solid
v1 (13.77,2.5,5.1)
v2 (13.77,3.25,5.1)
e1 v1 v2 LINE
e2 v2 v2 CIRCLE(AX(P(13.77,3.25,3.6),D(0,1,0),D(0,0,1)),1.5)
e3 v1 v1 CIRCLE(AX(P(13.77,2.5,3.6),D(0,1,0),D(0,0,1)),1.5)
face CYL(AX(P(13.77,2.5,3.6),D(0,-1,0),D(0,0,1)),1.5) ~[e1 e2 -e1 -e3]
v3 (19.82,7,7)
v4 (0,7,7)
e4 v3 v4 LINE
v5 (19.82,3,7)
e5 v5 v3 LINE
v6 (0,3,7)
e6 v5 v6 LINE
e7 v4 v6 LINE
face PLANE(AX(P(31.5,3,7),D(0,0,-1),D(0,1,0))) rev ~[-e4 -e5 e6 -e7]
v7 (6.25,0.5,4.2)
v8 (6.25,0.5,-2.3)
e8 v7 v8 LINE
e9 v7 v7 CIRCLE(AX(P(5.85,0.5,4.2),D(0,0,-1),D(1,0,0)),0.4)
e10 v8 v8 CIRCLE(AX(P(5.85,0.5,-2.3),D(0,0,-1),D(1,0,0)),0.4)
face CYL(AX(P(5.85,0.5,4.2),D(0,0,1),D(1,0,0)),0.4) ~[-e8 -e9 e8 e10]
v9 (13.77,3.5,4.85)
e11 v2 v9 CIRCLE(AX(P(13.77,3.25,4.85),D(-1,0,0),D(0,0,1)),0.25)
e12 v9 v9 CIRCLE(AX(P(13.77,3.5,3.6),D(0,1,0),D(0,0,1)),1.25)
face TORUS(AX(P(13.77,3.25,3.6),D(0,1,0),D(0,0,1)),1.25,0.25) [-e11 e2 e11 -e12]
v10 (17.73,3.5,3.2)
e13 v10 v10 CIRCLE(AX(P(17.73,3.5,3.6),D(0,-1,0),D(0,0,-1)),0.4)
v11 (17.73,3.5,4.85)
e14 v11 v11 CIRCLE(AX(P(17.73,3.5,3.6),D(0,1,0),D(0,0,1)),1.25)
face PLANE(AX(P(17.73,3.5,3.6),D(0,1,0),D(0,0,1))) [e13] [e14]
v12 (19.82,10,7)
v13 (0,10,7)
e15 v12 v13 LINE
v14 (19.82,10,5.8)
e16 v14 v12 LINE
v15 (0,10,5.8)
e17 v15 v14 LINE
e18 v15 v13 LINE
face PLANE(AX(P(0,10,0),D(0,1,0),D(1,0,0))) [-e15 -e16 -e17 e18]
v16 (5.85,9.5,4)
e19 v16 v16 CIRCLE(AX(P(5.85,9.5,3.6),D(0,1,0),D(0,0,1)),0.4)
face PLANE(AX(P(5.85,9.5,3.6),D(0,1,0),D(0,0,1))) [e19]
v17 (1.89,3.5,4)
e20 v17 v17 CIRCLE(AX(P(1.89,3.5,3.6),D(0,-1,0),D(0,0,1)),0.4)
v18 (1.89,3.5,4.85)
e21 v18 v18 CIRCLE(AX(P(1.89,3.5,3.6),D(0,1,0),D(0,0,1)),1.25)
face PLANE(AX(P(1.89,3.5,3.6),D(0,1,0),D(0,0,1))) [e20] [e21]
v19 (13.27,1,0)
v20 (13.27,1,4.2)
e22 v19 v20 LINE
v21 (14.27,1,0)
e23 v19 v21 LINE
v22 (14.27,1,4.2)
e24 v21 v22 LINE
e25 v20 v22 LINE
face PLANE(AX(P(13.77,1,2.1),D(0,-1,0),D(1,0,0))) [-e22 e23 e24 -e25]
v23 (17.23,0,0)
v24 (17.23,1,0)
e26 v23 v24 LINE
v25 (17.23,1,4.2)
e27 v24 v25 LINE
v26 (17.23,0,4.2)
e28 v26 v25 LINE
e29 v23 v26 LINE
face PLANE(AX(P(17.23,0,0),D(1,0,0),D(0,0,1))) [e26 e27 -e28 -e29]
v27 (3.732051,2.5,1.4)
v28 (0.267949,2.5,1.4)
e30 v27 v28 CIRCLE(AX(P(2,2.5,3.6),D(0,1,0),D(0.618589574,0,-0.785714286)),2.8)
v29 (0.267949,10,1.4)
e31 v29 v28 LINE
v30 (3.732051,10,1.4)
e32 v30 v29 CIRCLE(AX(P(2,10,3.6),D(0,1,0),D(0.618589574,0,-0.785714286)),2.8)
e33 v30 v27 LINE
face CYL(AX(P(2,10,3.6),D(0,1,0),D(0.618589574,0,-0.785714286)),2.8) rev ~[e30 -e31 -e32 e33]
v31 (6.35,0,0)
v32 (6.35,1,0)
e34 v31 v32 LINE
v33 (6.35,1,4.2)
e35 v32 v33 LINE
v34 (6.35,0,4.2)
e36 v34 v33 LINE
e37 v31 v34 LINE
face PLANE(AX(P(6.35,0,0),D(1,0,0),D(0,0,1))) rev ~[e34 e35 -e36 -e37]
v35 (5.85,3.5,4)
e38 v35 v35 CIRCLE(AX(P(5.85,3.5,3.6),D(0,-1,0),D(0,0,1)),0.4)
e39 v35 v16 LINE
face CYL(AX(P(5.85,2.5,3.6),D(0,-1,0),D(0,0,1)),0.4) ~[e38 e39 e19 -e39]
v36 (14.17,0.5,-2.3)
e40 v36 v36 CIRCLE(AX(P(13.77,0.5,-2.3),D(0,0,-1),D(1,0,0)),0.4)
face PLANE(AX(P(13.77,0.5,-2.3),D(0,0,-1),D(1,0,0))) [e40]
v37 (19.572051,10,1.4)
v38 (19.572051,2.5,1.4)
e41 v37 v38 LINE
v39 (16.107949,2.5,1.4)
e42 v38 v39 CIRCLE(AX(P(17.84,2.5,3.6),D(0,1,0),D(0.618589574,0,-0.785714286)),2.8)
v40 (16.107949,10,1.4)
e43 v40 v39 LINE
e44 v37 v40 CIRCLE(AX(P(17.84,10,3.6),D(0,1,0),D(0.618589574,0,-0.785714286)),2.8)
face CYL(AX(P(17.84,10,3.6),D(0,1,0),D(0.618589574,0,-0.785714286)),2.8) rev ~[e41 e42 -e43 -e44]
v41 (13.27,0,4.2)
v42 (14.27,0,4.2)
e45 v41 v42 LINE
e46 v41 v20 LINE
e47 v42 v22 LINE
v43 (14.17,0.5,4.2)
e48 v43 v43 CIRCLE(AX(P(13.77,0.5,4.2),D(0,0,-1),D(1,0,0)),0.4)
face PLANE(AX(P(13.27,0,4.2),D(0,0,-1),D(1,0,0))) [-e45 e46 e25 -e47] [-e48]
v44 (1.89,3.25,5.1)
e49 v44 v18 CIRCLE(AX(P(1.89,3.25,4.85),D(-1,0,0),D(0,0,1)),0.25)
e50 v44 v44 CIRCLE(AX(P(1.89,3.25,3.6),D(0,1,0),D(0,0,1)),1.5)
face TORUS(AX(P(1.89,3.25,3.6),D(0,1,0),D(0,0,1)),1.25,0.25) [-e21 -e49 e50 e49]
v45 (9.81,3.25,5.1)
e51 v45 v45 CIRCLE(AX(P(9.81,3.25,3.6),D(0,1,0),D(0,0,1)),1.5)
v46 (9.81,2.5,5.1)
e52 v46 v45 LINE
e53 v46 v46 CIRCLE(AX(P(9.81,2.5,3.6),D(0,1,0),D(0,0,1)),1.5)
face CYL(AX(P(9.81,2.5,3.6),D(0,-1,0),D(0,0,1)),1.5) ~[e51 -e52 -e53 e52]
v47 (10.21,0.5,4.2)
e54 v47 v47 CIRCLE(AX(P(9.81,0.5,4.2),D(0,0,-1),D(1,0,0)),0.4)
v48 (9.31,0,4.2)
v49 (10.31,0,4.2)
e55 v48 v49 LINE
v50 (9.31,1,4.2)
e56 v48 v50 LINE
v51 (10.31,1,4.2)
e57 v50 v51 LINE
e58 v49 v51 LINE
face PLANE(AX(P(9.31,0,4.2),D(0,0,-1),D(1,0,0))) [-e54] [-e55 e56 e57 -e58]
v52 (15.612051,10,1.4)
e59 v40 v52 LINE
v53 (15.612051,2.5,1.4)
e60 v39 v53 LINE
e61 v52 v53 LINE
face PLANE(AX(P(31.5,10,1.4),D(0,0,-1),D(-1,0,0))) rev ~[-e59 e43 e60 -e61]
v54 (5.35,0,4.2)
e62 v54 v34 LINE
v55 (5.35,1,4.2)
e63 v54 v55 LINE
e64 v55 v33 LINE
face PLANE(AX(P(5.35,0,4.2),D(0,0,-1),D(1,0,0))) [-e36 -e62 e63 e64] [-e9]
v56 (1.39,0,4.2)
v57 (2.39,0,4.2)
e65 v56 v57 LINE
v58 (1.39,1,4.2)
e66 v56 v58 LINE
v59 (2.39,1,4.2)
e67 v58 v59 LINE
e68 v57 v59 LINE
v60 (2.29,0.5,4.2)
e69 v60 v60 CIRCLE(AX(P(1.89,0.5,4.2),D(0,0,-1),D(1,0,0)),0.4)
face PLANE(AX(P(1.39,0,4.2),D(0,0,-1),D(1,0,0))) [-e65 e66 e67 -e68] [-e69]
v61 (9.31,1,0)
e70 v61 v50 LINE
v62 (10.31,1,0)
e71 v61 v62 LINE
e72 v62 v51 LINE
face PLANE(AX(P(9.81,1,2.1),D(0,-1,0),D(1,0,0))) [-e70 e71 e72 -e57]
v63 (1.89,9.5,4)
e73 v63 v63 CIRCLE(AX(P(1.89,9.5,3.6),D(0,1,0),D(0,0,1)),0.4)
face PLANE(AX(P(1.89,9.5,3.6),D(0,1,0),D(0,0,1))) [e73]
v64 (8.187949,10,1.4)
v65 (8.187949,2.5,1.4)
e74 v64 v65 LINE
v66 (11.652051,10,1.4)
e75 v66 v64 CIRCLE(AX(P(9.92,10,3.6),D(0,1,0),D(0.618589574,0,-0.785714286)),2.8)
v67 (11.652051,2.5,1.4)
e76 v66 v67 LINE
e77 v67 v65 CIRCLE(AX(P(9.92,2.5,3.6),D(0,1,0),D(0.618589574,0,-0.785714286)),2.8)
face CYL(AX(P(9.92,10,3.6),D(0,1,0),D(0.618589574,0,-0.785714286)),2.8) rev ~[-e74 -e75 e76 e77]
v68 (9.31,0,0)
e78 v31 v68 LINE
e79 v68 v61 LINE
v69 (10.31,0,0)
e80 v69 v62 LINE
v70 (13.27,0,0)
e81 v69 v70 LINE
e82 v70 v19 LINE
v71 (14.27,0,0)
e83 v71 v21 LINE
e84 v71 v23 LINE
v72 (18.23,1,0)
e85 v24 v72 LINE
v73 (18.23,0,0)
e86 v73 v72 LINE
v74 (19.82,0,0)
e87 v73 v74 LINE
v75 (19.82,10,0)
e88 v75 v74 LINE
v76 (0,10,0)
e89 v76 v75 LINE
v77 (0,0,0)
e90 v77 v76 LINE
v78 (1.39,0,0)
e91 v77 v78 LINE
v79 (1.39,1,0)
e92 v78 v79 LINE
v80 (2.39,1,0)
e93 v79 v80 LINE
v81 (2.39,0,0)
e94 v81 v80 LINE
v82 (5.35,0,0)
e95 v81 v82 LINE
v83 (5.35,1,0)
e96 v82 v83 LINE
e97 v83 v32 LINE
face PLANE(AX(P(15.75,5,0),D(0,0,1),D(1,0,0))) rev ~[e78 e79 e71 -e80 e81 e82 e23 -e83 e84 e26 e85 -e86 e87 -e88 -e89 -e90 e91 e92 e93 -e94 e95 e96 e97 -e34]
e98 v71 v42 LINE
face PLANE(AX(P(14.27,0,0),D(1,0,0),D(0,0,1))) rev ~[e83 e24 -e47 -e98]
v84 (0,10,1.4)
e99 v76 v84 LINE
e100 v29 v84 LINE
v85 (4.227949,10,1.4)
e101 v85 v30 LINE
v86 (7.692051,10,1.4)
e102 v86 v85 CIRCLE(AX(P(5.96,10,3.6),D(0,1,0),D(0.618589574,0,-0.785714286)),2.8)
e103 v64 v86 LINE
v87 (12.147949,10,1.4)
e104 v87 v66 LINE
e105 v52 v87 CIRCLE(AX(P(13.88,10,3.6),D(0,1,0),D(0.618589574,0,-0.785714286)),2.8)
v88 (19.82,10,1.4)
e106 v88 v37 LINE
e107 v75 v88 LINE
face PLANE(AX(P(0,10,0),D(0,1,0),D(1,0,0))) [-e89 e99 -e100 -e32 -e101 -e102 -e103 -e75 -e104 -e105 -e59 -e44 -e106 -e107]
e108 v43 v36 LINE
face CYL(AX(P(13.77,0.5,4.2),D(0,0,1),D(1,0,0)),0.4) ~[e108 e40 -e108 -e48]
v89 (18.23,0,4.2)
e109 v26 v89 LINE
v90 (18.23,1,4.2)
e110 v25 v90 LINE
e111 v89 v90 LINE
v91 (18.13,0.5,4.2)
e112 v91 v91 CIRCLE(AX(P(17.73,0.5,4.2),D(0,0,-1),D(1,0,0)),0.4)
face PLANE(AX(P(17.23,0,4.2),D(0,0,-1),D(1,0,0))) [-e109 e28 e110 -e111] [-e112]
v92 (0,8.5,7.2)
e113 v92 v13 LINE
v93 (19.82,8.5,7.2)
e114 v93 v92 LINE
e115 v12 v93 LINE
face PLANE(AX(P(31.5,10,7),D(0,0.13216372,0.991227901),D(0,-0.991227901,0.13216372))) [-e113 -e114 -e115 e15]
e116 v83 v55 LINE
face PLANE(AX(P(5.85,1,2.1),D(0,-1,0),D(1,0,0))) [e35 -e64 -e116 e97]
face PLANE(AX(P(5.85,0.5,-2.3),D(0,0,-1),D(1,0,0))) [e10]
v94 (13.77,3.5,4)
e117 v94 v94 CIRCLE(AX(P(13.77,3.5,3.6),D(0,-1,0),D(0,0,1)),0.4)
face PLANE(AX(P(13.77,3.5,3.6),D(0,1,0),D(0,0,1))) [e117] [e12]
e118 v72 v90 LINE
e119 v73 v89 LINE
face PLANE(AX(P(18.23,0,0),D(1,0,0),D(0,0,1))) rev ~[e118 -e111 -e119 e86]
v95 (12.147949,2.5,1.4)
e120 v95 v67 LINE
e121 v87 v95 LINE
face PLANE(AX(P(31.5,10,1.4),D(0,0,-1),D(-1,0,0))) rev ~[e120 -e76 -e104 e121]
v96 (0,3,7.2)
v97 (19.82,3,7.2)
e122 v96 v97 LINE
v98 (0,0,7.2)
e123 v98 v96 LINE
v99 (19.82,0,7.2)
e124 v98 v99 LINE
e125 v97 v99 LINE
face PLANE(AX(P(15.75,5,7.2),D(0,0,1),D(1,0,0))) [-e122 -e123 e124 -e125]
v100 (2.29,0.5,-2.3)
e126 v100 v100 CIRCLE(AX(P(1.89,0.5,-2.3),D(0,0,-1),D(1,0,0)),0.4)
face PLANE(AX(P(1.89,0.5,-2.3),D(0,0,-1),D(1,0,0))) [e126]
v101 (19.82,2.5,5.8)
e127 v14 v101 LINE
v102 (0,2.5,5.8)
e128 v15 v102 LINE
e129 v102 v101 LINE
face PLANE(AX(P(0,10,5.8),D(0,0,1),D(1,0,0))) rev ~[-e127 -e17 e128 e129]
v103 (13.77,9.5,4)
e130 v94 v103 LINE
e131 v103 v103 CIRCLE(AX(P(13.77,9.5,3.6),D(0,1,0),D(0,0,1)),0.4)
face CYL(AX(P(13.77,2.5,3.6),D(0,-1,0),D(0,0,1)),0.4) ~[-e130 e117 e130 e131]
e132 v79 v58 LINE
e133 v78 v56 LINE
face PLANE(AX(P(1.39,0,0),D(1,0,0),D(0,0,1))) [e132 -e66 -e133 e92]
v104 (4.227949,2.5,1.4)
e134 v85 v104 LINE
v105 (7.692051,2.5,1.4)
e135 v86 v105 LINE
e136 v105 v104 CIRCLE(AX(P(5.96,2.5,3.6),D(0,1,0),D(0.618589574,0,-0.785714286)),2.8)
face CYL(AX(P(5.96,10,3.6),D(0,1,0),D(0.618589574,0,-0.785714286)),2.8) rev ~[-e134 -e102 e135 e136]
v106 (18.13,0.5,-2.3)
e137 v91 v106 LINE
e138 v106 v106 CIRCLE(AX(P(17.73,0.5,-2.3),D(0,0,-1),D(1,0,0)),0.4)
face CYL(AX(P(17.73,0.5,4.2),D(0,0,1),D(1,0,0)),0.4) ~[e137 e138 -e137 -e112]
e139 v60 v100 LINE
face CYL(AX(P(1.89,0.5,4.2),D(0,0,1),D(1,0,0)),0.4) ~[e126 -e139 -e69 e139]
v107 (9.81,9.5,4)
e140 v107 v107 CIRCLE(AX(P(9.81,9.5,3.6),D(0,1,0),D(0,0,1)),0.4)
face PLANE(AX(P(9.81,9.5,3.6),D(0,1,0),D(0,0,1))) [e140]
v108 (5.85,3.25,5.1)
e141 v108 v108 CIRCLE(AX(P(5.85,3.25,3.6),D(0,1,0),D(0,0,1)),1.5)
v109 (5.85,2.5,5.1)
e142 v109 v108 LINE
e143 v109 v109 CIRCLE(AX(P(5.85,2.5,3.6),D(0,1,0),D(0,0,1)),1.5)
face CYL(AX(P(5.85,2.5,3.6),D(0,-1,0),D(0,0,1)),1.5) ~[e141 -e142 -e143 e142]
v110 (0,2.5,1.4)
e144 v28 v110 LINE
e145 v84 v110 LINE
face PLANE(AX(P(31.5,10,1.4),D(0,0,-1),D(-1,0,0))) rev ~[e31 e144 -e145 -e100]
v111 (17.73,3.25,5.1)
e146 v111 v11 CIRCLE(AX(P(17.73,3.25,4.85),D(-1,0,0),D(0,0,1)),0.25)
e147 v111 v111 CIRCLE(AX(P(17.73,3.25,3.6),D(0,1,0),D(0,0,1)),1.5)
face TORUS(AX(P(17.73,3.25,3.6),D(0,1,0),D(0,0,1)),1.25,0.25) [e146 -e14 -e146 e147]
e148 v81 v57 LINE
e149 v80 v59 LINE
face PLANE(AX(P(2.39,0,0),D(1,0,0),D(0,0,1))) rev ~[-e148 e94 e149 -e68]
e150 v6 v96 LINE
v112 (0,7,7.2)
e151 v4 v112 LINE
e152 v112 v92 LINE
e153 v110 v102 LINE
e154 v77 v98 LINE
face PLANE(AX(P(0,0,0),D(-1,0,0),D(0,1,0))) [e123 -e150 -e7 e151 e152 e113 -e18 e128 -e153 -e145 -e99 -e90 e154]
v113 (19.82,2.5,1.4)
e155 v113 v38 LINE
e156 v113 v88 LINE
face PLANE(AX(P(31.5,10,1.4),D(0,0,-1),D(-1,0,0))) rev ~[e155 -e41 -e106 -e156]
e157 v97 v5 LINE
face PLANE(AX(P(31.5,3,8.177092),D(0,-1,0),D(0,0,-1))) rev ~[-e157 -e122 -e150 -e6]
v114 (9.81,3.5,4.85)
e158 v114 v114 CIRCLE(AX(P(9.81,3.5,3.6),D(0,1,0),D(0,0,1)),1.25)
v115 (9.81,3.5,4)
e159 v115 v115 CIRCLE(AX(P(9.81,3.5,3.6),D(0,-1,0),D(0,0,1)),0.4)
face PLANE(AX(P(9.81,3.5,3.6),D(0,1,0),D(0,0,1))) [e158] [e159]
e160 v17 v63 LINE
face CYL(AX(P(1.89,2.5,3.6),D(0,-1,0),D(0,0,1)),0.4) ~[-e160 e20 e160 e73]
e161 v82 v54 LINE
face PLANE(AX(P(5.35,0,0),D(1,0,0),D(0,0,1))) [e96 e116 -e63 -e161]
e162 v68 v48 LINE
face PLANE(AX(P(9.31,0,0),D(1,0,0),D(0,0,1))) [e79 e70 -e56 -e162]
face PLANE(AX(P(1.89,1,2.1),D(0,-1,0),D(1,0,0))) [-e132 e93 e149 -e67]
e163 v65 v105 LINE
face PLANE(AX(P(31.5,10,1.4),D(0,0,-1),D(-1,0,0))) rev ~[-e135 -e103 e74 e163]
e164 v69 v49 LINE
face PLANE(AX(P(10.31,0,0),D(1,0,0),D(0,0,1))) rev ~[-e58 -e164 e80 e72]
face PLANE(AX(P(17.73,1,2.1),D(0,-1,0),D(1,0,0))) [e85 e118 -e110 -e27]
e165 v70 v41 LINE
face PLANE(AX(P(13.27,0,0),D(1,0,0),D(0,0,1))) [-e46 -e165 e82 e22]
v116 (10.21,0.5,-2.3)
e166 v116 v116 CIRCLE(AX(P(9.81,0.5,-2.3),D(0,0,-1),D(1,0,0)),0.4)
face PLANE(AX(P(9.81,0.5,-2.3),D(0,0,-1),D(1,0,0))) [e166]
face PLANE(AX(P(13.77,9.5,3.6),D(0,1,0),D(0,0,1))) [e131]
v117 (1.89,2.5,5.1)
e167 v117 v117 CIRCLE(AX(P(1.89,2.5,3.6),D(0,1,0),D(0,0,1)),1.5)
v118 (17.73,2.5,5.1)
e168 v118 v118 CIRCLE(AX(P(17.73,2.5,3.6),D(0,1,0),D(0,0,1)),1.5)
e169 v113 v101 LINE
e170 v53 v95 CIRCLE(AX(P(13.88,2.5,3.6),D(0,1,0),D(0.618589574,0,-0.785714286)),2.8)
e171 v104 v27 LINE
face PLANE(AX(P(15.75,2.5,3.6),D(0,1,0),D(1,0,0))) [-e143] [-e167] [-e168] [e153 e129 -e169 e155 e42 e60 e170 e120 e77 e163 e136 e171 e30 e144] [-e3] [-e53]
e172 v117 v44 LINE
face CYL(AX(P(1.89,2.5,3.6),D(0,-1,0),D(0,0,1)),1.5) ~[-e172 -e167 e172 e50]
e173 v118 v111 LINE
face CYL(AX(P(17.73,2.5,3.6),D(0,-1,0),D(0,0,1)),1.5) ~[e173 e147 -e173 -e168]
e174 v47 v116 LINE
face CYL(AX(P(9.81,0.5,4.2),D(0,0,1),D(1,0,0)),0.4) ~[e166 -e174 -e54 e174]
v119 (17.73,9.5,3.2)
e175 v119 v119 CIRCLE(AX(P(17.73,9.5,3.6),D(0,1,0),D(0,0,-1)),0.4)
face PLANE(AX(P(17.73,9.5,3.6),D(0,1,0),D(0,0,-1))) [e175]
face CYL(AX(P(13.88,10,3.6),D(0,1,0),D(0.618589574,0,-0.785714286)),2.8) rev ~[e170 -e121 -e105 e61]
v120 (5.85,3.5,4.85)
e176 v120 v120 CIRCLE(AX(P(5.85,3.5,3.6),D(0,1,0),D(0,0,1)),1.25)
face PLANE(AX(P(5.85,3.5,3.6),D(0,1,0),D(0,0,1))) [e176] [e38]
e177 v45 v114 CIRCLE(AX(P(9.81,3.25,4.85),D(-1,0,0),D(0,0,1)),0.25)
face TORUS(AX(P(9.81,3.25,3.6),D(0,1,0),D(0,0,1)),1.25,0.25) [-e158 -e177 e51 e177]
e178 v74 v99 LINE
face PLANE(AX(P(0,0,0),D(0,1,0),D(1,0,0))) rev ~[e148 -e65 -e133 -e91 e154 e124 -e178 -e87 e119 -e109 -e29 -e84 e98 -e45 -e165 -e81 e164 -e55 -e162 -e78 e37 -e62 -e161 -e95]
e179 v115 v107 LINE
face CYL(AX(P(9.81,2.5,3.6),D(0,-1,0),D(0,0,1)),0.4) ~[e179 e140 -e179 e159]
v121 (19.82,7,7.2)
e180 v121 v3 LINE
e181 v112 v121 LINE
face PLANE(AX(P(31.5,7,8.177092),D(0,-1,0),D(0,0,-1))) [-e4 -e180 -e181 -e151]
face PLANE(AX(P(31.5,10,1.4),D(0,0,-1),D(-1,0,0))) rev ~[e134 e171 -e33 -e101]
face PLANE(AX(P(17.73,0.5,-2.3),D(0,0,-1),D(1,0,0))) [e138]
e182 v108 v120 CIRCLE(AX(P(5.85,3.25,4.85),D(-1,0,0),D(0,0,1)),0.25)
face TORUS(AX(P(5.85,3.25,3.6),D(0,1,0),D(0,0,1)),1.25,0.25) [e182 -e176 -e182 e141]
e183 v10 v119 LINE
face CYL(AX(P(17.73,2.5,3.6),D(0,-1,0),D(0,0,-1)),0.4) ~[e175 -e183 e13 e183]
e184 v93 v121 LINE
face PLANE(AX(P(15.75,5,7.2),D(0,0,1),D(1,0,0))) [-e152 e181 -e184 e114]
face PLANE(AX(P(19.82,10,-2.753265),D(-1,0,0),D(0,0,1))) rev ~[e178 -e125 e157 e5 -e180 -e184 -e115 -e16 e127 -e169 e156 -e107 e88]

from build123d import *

# Parameters (mm, degrees)
SKETCH_1_W          = 31.5
SKETCH_1_H          = 10
EXTRUDE_1_DEPTH     = 7.2
SKETCH_2_W          = 1.17709233
SKETCH_2_H          = 4
CUT_EXTRUDE_1_DEPTH = 34.824399477
CUT_EXTRUDE_2_DEPTH = 34.824399477
CUT_EXTRUDE_4_DEPTH = 7.5
CUT_EXTRUDE_5_DEPTH = 7.5
SKETCH_8_W          = 1
SKETCH_8_H          = 4.2
CUT_EXTRUDE_6_DEPTH = 1
SKETCH_9_R          = 0.4
EXTRUDE_5_DEPTH     = 6.5
SKETCH_10_R         = 0.4
EXTRUDE_6_DEPTH     = 7
SKETCH_11_R         = 1.5
EXTRUDE_7_DEPTH     = 1
FILLET_1_R          = 0.25
CUT_EXTRUDE_7_DEPTH = 34.824399477


with BuildPart() as part:
    # 草图1 → 凸台-拉伸1 (new body)
    with BuildSketch(Plane.XY):
        with Locations((15.75, 5)):
            Rectangle(SKETCH_1_W, SKETCH_1_H)
    extrude(amount=EXTRUDE_1_DEPTH)

    # 草图2 → 切除-拉伸1 (cut, through all)
    with BuildSketch(Plane(origin=(31.5, 0, 0), x_dir=(0, 0, -1), z_dir=(1, 0, 0))):
        with Locations((-7.588546165, 5)):
            Rectangle(SKETCH_2_W, SKETCH_2_H)
    extrude(amount=-CUT_EXTRUDE_1_DEPTH, mode=Mode.SUBTRACT)

    # 草图3 → 切除-拉伸2 (cut, through all)
    with BuildSketch(Plane(origin=(31.5, 0, 0), x_dir=(0, 0, -1), z_dir=(1, 0, 0))):
        Polygon((-7, 10), (-7.2, 8.5), (-7.2, 10), align=None)
    extrude(amount=-CUT_EXTRUDE_2_DEPTH, mode=Mode.SUBTRACT)

    # 草图6 → 切除-拉伸4 (cut)
    with BuildSketch(Plane(origin=(0, 10, 0), x_dir=(1, 0, 0), z_dir=(0, 1, 0))):
        Polygon((0.5, -1.4), (0.391822444, -1.4), (0, -1.4), (0, -5.8), (0.391822444, -5.8), (0.5, -5.8), (31.5, -5.8), (31.5, -1.4), align=None)
    extrude(amount=-CUT_EXTRUDE_4_DEPTH, mode=Mode.SUBTRACT)

    # 草图7 → 切除-拉伸5 (cut)
    with BuildSketch(Plane(origin=(0, 10, 0), x_dir=(1, 0, 0), z_dir=(0, 1, 0))):
        with BuildLine():
            Line((0.267949192, -1.4), (3.732050808, -1.4))
            ThreePointArc((3.732050808, -1.4), (2, -0.8), (0.267949192, -1.4))
        make_face()
        with BuildLine():
            Line((27.987949192, -1.4), (31.452050808, -1.4))
            ThreePointArc((31.452050808, -1.4), (29.72, -0.8), (27.987949192, -1.4))
        make_face()
        with BuildLine():
            Line((24.027949192, -1.4), (27.492050808, -1.4))
            ThreePointArc((27.492050808, -1.4), (25.76, -0.8), (24.027949192, -1.4))
        make_face()
        with BuildLine():
            Line((20.067949192, -1.4), (23.532050808, -1.4))
            ThreePointArc((23.532050808, -1.4), (21.8, -0.8), (20.067949192, -1.4))
        make_face()
        with BuildLine():
            Line((16.107949192, -1.4), (19.572050808, -1.4))
            ThreePointArc((19.572050808, -1.4), (17.84, -0.8), (16.107949192, -1.4))
        make_face()
        with BuildLine():
            Line((12.147949192, -1.4), (15.612050808, -1.4))
            ThreePointArc((15.612050808, -1.4), (13.88, -0.8), (12.147949192, -1.4))
        make_face()
        with BuildLine():
            Line((8.187949192, -1.4), (11.652050808, -1.4))
            ThreePointArc((11.652050808, -1.4), (9.92, -0.8), (8.187949192, -1.4))
        make_face()
        with BuildLine():
            Line((4.227949192, -1.4), (7.692050808, -1.4))
            ThreePointArc((7.692050808, -1.4), (5.96, -0.8), (4.227949192, -1.4))
        make_face()
    extrude(amount=-CUT_EXTRUDE_5_DEPTH, mode=Mode.SUBTRACT)

    # 草图8 → 切除-拉伸6 (cut)
    with BuildSketch(Plane.XZ):
        with Locations((17.73, 2.1)):
            Rectangle(SKETCH_8_W, SKETCH_8_H)
        with Locations((21.69, 2.1)):
            Rectangle(SKETCH_8_W, SKETCH_8_H)
        with Locations((25.65, 2.1)):
            Rectangle(SKETCH_8_W, SKETCH_8_H)
        with Locations((29.61, 2.1)):
            Rectangle(SKETCH_8_W, SKETCH_8_H)
        with Locations((1.89, 2.1)):
            Rectangle(SKETCH_8_W, SKETCH_8_H)
        with Locations((5.85, 2.1)):
            Rectangle(SKETCH_8_W, SKETCH_8_H)
        with Locations((9.81, 2.1)):
            Rectangle(SKETCH_8_W, SKETCH_8_H)
        with Locations((13.77, 2.1)):
            Rectangle(SKETCH_8_W, SKETCH_8_H)
    extrude(amount=-CUT_EXTRUDE_6_DEPTH, mode=Mode.SUBTRACT)

    # 草图9 → 凸台-拉伸5 (add)
    with BuildSketch(Plane(origin=(0, 0, 4.2), x_dir=(-1, 0, 0), z_dir=(0, 0, -1))):
        with Locations(Location((-1.89, 0.5, 0), (0, 0, 180))):
            Circle(SKETCH_9_R)
        with Locations(Location((-5.85, 0.5, 0), (0, 0, 180))):
            Circle(SKETCH_9_R)
        with Locations(Location((-9.81, 0.5, 0), (0, 0, 180))):
            Circle(SKETCH_9_R)
        with Locations(Location((-13.77, 0.5, 0), (0, 0, 180))):
            Circle(SKETCH_9_R)
        with Locations(Location((-17.73, 0.5, 0), (0, 0, 180))):
            Circle(SKETCH_9_R)
        with Locations(Location((-21.69, 0.5, 0), (0, 0, 180))):
            Circle(SKETCH_9_R)
        with Locations(Location((-25.65, 0.5, 0), (0, 0, 180))):
            Circle(SKETCH_9_R)
        with Locations(Location((-29.61, 0.5, 0), (0, 0, 180))):
            Circle(SKETCH_9_R)
    extrude(amount=EXTRUDE_5_DEPTH)

    # 草图10 → 凸台-拉伸6 (add)
    with BuildSketch(Plane(origin=(0, 2.5, 0), x_dir=(1, 0, 0), z_dir=(0, 1, 0))):
        with Locations(Location((13.77, -3.6, 0), (0, 0, 270))):
            Circle(SKETCH_10_R)
        with Locations(Location((9.81, -3.6, 0), (0, 0, 270))):
            Circle(SKETCH_10_R)
        with Locations(Location((5.85, -3.6, 0), (0, 0, 270))):
            Circle(SKETCH_10_R)
        with Locations(Location((1.89, -3.6, 0), (0, 0, 270))):
            Circle(SKETCH_10_R)
        with Locations(Location((29.61, -3.6, 0), (0, 0, 90))):
            Circle(SKETCH_10_R)
        with Locations(Location((25.65, -3.6, 0), (0, 0, 90))):
            Circle(SKETCH_10_R)
        with Locations(Location((21.69, -3.6, 0), (0, 0, 90))):
            Circle(SKETCH_10_R)
        with Locations(Location((17.73, -3.6, 0), (0, 0, 90))):
            Circle(SKETCH_10_R)
    extrude(amount=EXTRUDE_6_DEPTH)

    # 草图11 → 凸台-拉伸7 (add)
    with BuildSketch(Plane(origin=(0, 2.5, 0), x_dir=(1, 0, 0), z_dir=(0, 1, 0))):
        with Locations(Location((29.61, -3.6, 0), (0, 0, 270))):
            Circle(SKETCH_11_R)
        with Locations(Location((25.65, -3.6, 0), (0, 0, 270))):
            Circle(SKETCH_11_R)
        with Locations(Location((21.69, -3.6, 0), (0, 0, 270))):
            Circle(SKETCH_11_R)
        with Locations(Location((17.73, -3.6, 0), (0, 0, 270))):
            Circle(SKETCH_11_R)
        with Locations(Location((13.77, -3.6, 0), (0, 0, 270))):
            Circle(SKETCH_11_R)
        with Locations(Location((9.81, -3.6, 0), (0, 0, 270))):
            Circle(SKETCH_11_R)
        with Locations(Location((5.85, -3.6, 0), (0, 0, 270))):
            Circle(SKETCH_11_R)
        with Locations(Location((1.89, -3.6, 0), (0, 0, 270))):
            Circle(SKETCH_11_R)
    extrude(amount=EXTRUDE_7_DEPTH)

    # 圆角1
    fillet_1_edges = [part.edges().sort_by_distance(p)[0] for p in [
        (29.61, 3.5, 2.1),
        (25.65, 3.5, 2.1),
        (21.69, 3.5, 2.1),
        (17.73, 3.5, 2.1),
        (13.77, 3.5, 2.1),
        (9.81, 3.5, 2.1),
        (5.85, 3.5, 2.1),
        (1.89, 3.5, 2.1),
    ]]
    fillet(fillet_1_edges, radius=FILLET_1_R)

    # 草图13 → 切除-拉伸7 (cut, through all)
    with BuildSketch(Plane(origin=(0, 10, 0), x_dir=(1, 0, 0), z_dir=(0, 1, 0))):
        Polygon((19.82, 0), (19.82, -8.061700908), (32.018836879, -8.061700908), (32.018836879, 2.753264686), (19.82, 2.753264686), align=None)
    extrude(amount=-CUT_EXTRUDE_7_DEPTH, mode=Mode.SUBTRACT)


solid = part.part
